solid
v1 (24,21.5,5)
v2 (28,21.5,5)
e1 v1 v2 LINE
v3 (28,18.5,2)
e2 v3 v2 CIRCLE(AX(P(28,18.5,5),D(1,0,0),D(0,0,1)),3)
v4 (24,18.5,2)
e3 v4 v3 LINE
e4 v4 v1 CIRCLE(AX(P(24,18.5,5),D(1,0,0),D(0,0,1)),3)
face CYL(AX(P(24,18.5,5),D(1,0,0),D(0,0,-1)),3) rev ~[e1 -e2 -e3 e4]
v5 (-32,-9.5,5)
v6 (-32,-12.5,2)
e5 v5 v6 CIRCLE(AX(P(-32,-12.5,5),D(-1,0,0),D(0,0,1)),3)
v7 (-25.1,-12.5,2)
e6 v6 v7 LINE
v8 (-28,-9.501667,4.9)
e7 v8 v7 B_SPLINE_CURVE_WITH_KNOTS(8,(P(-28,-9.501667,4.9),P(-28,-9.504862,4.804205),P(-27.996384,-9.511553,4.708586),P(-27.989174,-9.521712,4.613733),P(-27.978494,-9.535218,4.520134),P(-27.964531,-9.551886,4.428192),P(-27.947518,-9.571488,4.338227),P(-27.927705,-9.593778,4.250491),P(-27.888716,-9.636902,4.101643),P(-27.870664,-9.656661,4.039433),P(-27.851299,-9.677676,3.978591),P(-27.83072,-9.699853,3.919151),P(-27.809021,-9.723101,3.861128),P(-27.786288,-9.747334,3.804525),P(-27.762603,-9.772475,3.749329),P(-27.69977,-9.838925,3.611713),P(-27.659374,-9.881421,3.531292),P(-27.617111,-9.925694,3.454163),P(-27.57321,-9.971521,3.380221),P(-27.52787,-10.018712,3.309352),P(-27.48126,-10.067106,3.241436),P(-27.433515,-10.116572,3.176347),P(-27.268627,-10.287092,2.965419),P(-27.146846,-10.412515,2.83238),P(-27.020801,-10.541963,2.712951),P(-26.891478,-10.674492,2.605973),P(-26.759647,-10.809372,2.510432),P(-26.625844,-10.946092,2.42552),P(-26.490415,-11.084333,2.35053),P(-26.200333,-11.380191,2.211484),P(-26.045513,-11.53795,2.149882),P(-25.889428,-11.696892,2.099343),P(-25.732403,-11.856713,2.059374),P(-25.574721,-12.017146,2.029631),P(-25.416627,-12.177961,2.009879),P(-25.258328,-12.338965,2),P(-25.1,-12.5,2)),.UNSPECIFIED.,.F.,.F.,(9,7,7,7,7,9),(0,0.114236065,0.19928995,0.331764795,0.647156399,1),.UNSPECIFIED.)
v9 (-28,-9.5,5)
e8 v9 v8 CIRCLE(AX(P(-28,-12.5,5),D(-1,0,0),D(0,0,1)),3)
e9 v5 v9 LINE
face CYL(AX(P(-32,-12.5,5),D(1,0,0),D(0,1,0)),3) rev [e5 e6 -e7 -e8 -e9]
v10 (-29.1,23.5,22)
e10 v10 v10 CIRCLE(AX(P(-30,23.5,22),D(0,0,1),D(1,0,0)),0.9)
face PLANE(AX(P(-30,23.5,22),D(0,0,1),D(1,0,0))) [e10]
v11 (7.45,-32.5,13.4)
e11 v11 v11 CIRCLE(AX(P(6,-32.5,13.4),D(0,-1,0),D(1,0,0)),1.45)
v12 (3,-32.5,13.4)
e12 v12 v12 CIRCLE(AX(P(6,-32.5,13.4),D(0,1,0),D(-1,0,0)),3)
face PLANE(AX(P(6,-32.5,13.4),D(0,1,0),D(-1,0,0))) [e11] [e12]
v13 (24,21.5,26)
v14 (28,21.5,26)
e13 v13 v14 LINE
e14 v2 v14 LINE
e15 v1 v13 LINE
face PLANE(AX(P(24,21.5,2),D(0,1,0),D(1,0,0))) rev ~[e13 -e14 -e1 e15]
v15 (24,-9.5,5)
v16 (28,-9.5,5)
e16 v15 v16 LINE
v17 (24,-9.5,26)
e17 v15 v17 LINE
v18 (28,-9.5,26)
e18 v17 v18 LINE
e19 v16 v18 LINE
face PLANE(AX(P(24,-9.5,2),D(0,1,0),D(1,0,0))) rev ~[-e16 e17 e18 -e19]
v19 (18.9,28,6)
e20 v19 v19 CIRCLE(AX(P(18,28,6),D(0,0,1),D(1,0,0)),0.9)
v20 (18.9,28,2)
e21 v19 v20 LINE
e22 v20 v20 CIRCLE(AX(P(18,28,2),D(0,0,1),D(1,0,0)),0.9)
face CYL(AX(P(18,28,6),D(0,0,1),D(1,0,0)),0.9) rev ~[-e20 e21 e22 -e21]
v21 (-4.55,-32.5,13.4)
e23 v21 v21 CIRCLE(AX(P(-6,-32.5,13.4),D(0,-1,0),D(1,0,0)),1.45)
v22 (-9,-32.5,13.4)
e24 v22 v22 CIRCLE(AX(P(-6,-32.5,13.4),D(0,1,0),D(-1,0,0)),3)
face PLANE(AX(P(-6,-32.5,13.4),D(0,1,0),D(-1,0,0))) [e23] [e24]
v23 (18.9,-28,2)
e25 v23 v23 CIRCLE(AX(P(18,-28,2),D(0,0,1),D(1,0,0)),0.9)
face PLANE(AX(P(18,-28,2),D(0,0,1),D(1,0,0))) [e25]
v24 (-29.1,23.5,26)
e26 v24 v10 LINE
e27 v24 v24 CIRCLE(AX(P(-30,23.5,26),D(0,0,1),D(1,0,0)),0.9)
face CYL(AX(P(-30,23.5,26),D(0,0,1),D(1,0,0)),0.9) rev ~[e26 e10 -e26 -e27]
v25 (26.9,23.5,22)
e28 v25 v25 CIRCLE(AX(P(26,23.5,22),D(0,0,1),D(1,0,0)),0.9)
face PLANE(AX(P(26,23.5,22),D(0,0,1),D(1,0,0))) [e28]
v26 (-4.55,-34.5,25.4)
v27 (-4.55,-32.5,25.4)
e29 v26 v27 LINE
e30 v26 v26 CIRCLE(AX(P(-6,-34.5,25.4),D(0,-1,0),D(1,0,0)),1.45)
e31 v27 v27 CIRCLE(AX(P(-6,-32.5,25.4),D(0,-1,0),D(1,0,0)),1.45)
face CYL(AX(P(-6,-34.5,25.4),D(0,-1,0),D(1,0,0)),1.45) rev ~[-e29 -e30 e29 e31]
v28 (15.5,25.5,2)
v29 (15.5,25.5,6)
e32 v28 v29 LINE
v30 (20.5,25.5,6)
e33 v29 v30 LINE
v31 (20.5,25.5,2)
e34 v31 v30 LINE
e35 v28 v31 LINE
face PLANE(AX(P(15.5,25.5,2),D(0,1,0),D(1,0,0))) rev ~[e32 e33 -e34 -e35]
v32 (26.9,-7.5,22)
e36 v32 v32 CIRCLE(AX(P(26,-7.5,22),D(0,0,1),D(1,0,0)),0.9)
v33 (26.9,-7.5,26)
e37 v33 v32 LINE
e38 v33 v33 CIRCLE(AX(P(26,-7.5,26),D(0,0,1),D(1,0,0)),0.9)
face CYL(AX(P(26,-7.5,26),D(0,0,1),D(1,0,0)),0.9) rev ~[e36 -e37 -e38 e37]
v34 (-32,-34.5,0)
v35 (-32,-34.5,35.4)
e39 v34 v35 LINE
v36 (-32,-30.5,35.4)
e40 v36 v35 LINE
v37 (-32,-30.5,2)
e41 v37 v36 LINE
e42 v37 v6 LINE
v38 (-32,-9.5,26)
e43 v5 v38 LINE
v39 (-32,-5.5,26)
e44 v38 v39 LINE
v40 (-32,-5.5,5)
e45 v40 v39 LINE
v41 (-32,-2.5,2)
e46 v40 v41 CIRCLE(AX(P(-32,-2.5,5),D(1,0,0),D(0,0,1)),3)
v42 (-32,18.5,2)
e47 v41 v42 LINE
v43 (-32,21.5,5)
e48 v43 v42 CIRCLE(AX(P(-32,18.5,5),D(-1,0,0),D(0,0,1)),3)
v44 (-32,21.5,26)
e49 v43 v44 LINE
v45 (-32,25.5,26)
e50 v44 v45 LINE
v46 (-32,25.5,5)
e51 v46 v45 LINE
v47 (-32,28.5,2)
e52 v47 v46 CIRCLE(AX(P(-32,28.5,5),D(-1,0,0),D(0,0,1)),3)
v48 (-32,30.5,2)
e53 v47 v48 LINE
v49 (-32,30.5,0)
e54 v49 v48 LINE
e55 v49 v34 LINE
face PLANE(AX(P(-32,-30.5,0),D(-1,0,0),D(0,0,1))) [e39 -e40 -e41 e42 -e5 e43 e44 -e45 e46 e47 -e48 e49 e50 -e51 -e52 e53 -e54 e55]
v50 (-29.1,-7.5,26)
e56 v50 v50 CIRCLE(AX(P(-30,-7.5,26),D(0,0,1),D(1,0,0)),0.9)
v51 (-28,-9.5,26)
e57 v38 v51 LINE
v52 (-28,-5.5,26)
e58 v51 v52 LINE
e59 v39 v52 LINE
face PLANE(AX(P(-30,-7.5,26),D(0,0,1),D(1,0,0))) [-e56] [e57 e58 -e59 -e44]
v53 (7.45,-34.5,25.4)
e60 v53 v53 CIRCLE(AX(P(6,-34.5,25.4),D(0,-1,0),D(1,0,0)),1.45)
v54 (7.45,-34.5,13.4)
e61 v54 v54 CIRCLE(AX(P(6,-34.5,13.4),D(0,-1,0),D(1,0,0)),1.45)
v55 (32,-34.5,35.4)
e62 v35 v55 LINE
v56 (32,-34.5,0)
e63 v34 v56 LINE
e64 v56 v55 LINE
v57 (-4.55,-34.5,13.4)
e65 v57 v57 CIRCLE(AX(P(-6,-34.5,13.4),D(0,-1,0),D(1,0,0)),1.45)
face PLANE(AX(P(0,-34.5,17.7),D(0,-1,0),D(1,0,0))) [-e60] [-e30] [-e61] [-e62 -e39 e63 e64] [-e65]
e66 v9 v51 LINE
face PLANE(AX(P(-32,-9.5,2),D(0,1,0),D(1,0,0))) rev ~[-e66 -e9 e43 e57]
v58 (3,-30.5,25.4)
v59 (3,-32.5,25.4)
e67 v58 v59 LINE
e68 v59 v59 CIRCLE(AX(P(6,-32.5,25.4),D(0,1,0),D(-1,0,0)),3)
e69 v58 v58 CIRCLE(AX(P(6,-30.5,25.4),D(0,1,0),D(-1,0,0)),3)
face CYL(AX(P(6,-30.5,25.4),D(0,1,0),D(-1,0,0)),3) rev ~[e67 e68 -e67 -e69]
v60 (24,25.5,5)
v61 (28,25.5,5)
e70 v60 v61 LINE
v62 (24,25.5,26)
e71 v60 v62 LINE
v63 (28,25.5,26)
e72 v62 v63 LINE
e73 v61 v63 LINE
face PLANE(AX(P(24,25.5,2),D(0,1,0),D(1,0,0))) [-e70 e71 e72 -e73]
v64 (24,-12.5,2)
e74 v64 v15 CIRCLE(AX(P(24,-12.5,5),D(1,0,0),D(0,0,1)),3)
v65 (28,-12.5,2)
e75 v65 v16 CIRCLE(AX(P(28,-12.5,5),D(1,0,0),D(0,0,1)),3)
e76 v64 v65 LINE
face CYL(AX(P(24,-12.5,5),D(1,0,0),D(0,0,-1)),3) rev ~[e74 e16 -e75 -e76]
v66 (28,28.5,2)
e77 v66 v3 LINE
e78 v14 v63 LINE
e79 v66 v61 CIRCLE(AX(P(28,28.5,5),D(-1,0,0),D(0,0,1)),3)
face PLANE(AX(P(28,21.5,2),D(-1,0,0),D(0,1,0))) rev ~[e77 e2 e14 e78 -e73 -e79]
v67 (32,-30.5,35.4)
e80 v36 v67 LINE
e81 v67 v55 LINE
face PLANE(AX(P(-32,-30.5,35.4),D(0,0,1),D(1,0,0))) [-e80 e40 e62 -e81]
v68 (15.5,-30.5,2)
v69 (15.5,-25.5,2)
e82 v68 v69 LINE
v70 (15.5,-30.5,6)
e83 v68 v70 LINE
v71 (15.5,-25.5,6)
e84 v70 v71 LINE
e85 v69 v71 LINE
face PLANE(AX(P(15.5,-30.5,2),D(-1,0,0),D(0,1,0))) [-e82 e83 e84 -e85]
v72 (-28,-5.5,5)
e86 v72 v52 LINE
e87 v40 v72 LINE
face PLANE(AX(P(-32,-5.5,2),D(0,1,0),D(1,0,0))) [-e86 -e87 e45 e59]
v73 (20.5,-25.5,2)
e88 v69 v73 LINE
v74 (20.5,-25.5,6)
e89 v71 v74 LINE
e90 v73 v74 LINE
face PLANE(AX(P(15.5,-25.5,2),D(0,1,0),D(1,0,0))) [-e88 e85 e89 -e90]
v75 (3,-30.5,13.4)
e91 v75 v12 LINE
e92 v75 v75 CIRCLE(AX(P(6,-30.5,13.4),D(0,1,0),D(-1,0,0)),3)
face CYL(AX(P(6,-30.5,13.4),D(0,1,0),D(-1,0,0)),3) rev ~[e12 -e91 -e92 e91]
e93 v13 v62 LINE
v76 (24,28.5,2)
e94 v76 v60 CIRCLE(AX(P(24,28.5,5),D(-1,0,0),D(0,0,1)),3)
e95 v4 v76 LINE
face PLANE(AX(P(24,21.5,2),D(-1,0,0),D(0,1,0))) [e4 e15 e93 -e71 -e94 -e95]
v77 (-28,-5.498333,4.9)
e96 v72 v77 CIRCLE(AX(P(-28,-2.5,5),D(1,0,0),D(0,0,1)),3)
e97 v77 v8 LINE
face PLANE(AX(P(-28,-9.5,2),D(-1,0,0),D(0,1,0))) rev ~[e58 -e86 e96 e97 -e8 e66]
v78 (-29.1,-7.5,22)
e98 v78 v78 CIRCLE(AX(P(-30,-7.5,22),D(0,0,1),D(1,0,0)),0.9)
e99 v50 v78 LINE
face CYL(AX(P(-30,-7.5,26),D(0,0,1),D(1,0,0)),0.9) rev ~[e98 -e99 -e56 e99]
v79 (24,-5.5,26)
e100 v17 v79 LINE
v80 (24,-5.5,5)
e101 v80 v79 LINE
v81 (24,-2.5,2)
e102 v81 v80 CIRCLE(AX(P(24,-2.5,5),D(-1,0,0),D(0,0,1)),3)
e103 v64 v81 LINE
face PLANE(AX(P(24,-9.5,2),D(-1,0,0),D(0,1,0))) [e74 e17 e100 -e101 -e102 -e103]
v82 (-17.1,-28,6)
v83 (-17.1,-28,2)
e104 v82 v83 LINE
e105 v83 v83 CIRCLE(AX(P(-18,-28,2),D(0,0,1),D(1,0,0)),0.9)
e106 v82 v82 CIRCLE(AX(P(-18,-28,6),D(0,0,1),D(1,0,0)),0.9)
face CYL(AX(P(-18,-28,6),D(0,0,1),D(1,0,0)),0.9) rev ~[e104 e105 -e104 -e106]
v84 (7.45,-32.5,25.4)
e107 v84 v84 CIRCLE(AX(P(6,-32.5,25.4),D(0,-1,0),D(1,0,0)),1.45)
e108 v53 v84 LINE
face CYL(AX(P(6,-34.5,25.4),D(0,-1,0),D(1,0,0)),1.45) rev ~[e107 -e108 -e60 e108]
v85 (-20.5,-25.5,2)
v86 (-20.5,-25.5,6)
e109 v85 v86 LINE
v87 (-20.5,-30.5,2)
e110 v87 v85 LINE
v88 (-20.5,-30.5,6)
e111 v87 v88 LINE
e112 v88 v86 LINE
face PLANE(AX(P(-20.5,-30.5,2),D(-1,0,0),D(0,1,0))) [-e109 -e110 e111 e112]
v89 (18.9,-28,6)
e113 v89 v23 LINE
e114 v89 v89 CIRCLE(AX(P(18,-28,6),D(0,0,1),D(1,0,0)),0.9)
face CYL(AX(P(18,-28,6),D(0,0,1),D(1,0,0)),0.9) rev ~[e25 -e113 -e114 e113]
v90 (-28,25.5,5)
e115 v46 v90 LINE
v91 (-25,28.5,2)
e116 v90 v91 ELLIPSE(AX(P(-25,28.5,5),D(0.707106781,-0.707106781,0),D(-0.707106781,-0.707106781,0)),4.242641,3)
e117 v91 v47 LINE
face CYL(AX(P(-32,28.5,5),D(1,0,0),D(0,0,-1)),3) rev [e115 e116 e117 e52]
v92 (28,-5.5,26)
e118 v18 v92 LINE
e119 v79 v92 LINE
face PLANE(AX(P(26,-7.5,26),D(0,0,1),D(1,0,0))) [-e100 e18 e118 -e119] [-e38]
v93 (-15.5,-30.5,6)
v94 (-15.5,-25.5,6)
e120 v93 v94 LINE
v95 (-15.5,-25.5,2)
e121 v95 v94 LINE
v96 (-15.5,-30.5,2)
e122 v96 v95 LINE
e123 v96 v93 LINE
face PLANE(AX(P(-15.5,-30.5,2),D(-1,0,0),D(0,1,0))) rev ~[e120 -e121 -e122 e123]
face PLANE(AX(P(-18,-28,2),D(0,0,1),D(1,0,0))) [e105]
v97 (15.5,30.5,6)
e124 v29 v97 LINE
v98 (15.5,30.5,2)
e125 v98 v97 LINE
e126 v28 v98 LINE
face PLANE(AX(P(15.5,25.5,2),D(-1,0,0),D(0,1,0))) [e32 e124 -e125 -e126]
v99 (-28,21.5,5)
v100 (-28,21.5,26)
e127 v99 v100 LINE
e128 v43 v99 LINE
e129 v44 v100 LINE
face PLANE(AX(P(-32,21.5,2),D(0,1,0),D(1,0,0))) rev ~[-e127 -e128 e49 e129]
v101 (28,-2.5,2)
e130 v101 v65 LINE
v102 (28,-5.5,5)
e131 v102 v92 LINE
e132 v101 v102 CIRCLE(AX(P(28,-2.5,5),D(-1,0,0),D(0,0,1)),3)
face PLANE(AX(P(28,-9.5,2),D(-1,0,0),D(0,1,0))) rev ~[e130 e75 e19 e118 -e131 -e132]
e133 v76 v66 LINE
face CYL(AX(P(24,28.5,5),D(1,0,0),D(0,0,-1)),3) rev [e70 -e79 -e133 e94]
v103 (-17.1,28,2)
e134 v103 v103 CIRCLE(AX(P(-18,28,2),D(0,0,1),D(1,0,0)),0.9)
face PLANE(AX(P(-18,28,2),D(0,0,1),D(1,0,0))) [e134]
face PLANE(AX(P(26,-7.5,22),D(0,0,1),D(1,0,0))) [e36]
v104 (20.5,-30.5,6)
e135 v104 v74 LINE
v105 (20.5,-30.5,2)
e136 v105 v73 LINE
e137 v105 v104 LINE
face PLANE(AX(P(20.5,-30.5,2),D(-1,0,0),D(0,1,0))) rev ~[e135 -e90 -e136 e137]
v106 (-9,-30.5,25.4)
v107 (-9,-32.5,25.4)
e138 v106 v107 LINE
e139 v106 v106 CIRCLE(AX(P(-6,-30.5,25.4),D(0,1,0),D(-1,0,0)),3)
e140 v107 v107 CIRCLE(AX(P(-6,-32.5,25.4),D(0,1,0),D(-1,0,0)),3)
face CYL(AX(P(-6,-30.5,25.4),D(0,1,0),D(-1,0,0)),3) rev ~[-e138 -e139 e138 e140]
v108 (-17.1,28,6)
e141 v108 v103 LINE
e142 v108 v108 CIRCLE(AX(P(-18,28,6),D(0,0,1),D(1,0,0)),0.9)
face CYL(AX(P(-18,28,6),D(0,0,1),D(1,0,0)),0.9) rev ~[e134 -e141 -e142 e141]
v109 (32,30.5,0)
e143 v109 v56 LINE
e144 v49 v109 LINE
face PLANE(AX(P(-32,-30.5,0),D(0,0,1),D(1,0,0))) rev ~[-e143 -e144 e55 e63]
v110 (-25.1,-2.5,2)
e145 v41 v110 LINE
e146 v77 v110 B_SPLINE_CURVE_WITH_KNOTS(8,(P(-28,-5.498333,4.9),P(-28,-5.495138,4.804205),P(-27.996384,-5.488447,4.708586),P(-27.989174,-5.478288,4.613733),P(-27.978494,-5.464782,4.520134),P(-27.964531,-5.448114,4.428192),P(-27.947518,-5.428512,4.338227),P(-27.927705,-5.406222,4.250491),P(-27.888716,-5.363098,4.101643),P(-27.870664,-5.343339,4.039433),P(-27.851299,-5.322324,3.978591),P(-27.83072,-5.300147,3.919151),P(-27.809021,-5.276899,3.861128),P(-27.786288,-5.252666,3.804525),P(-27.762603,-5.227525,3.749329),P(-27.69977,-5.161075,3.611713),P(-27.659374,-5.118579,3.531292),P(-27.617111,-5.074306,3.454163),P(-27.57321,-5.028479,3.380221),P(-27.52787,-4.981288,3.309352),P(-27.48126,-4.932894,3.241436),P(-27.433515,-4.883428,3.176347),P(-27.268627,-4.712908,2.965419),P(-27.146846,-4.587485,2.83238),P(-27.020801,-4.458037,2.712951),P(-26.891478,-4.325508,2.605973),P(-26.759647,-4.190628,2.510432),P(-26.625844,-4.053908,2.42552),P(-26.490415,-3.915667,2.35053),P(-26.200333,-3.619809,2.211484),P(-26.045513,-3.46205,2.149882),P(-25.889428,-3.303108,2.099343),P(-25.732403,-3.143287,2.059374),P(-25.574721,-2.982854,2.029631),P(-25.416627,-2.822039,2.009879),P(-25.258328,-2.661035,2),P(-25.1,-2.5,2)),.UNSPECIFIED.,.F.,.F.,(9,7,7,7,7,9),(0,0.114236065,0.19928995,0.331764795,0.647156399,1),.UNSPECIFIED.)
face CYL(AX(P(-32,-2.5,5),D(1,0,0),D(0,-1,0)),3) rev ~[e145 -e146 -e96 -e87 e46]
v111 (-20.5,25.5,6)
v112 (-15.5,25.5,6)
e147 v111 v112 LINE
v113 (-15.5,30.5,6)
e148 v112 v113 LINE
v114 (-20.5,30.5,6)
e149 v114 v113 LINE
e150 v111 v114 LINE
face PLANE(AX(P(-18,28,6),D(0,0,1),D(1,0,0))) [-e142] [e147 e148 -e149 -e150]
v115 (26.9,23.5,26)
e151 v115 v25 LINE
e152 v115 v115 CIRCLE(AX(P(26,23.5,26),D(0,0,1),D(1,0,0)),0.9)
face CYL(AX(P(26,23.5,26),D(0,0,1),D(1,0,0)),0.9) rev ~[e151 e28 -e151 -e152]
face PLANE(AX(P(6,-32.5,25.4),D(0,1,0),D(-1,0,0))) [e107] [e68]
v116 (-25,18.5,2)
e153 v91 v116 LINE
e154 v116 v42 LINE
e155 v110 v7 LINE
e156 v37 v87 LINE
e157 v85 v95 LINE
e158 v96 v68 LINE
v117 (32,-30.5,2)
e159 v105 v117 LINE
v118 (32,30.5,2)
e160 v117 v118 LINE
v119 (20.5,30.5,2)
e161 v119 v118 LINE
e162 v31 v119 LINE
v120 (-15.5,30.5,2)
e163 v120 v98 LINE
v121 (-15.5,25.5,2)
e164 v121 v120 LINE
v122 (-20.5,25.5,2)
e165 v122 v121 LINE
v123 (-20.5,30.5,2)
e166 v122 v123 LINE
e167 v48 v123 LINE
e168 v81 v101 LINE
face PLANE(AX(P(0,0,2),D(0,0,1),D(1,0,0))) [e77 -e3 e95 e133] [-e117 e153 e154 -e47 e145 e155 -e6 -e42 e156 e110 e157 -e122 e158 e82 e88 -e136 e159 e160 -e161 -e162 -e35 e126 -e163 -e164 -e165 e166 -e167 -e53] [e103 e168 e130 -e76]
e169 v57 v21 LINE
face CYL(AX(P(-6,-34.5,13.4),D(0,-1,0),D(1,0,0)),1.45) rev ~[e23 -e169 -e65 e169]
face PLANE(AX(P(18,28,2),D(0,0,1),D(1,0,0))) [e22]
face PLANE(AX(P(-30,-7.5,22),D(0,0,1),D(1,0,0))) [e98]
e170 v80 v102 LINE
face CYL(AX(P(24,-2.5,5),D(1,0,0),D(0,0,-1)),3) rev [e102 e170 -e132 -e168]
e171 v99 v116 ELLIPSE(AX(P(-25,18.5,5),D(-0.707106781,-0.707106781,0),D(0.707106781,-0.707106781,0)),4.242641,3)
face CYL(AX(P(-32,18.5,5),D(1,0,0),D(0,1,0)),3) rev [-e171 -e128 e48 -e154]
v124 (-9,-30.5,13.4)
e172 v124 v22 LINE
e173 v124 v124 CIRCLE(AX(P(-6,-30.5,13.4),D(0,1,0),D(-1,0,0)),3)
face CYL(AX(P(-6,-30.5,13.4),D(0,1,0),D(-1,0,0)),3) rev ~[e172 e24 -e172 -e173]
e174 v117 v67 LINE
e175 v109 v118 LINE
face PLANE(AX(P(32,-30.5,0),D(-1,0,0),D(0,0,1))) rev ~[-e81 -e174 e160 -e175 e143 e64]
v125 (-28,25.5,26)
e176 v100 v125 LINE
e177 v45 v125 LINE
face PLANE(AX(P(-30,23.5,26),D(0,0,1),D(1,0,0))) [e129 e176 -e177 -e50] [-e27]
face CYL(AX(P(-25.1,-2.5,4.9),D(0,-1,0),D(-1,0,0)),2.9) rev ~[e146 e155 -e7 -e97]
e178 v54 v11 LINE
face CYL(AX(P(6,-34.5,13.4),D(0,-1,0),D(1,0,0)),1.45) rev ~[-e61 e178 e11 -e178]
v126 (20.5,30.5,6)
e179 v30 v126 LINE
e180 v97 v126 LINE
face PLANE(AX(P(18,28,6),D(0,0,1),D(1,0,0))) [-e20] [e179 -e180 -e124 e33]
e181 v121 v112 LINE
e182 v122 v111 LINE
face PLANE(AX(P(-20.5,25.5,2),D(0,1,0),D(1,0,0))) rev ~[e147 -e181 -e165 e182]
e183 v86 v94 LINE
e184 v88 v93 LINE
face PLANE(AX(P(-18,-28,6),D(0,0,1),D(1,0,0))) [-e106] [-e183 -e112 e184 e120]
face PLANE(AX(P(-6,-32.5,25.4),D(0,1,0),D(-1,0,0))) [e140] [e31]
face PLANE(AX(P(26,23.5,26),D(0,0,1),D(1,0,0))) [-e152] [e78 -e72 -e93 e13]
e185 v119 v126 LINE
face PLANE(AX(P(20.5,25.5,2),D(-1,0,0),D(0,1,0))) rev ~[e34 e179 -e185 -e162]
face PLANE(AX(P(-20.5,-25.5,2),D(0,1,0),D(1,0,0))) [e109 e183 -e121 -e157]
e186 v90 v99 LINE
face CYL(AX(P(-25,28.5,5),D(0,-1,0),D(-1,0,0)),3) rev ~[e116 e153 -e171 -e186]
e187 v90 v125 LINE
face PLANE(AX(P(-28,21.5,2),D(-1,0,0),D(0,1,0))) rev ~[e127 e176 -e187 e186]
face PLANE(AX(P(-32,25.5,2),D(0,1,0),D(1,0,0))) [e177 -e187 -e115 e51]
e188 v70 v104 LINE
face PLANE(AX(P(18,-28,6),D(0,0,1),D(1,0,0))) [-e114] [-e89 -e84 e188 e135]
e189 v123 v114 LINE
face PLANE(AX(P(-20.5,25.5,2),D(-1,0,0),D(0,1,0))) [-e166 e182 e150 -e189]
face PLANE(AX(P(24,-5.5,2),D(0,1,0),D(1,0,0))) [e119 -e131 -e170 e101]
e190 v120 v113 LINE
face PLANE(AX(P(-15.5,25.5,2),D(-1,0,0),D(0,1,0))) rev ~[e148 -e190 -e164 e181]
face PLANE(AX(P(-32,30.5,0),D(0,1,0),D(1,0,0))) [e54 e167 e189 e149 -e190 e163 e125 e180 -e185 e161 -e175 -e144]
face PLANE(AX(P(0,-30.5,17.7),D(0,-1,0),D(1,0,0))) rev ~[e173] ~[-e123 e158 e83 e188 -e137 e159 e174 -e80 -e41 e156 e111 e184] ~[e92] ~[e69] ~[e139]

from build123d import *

# Parameters (mm, degrees)
SKETCH_W        = 64
SKETCH_H        = 61
PAD_DEPTH       = 2
SKETCH001_W     = 5
SKETCH001_H     = 5
PAD001_DEPTH    = 4
SKETCH002_R     = 0.9
POCKET_DEPTH    = 4
SKETCH003_W     = 4
SKETCH003_H     = 4
PAD002_DEPTH    = 24
SKETCH004_R     = 0.9
POCKET001_DEPTH = 4
FILLET_R        = 3
FILLET001_R     = 3
FILLET002_R     = 3
FILLET003_R     = 3
FILLET004_R     = 3
FILLET005_R     = 2.9
FILLET006_R     = 3
FILLET007_R     = 3
FILLET008_R     = 3
FILLET009_R     = 3
SKETCH005_W     = 64
SKETCH005_H     = 35.4
PAD003_DEPTH    = 4
SKETCH006_R     = 3
POCKET002_DEPTH = 2
SKETCH007_R     = 1.45
POCKET003_DEPTH = 5


with BuildPart() as part:
    # Sketch → Pad (new body)
    with BuildSketch(Plane.XY):
        Rectangle(SKETCH_W, SKETCH_H)
    extrude(amount=PAD_DEPTH)

    # Sketch001 (on Face6 of Pad) → Pad001 (join)
    with BuildSketch(Plane.XY.offset(2)):
        with Locations((-18, 28)):
            Rectangle(SKETCH001_W, SKETCH001_H)
        with Locations((18, 28)):
            Rectangle(SKETCH001_W, SKETCH001_H)
        with Locations((-18, -28)):
            Rectangle(SKETCH001_W, SKETCH001_H)
        with Locations((18, -28)):
            Rectangle(SKETCH001_W, SKETCH001_H)
    extrude(amount=PAD001_DEPTH)

    # Sketch002 (on Face26 of Pad001) → Pocket (cut)
    with BuildSketch(Plane.XY.offset(6)):
        with Locations((-18, -28)):
            Circle(SKETCH002_R)
        with Locations((18, -28)):
            Circle(SKETCH002_R)
        with Locations((18, 28)):
            Circle(SKETCH002_R)
        with Locations((-18, 28)):
            Circle(SKETCH002_R)
    extrude(amount=-POCKET_DEPTH, mode=Mode.SUBTRACT)

    # Sketch003 (on Face5 of Pocket) → Pad002 (join)
    with BuildSketch(Plane.XY.offset(2)):
        with Locations((-30, 23.5)):
            Rectangle(SKETCH003_W, SKETCH003_H)
        with Locations((-30, -7.5)):
            Rectangle(SKETCH003_W, SKETCH003_H)
        with Locations((26, 23.5)):
            Rectangle(SKETCH003_W, SKETCH003_H)
        with Locations((26, -7.5)):
            Rectangle(SKETCH003_W, SKETCH003_H)
    extrude(amount=PAD002_DEPTH)

    # Sketch004 (on Face42 of Pad002) → Pocket001 (cut)
    with BuildSketch(Plane.XY.offset(26)):
        with Locations((-30, 23.5)):
            Circle(SKETCH004_R)
        with Locations((26, 23.5)):
            Circle(SKETCH004_R)
        with Locations((26, -7.5)):
            Circle(SKETCH004_R)
        with Locations((-30, -7.5)):
            Circle(SKETCH004_R)
    extrude(amount=-POCKET001_DEPTH, mode=Mode.SUBTRACT)

    # Fillet
    fillet_edges = [part.edges().sort_by_distance(p)[0] for p in [
        (-30, 25.5, 2),
    ]]
    fillet(fillet_edges, radius=FILLET_R)

    # Fillet001
    fillet001_edges = [part.edges().sort_by_distance(p)[0] for p in [
        (-30, 21.5, 2),
    ]]
    fillet(fillet001_edges, radius=FILLET001_R)

    # Fillet002
    fillet002_edges = [part.edges().sort_by_distance(p)[0] for p in [
        (-28, 23.5, 2),
    ]]
    fillet(fillet002_edges, radius=FILLET002_R)

    # Fillet003
    fillet003_edges = [part.edges().sort_by_distance(p)[0] for p in [
        (-30, -9.5, 2),
    ]]
    fillet(fillet003_edges, radius=FILLET003_R)

    # Fillet004
    fillet004_edges = [part.edges().sort_by_distance(p)[0] for p in [
        (-30, -5.5, 2),
    ]]
    fillet(fillet004_edges, radius=FILLET004_R)

    # Fillet005
    fillet005_edges = [part.edges().sort_by_distance(p)[0] for p in [
        (-28, -7.5, 2),
    ]]
    fillet(fillet005_edges, radius=FILLET005_R)

    # Fillet006
    fillet006_edges = [part.edges().sort_by_distance(p)[0] for p in [
        (26, 25.5, 2),
    ]]
    fillet(fillet006_edges, radius=FILLET006_R)

    # Fillet007
    fillet007_edges = [part.edges().sort_by_distance(p)[0] for p in [
        (26, 21.5, 2),
    ]]
    fillet(fillet007_edges, radius=FILLET007_R)

    # Fillet008
    fillet008_edges = [part.edges().sort_by_distance(p)[0] for p in [
        (26, -9.5, 2),
    ]]
    fillet(fillet008_edges, radius=FILLET008_R)

    # Fillet009
    fillet009_edges = [part.edges().sort_by_distance(p)[0] for p in [
        (26, -5.5, 2),
    ]]
    fillet(fillet009_edges, radius=FILLET009_R)

    # Sketch005 (on Face20 of Fillet009) → Pad003 (join)
    with BuildSketch(Plane.XZ.offset(30.5)):
        with Locations((0, 17.7)):
            Rectangle(SKETCH005_W, SKETCH005_H)
    extrude(amount=PAD003_DEPTH)

    # Sketch006 (on Face20 of Pad003) → Pocket002 (cut)
    with BuildSketch(Plane(origin=(0, -30.5, 0), x_dir=(-1, 0, 0), z_dir=(0, 1, 0))):
        with Locations((6, 13.4)):
            Circle(SKETCH006_R)
        with Locations((-6, 13.4)):
            Circle(SKETCH006_R)
        with Locations((6, 25.4)):
            Circle(SKETCH006_R)
        with Locations((-6, 25.4)):
            Circle(SKETCH006_R)
    extrude(amount=-POCKET002_DEPTH, mode=Mode.SUBTRACT)

    # Sketch007 (on Face69 of Pocket002) → Pocket003 (cut)
    with BuildSketch(Plane.XZ.offset(34.5)):
        with Locations((-6, 25.4)):
            Circle(SKETCH007_R)
        with Locations((6, 25.4)):
            Circle(SKETCH007_R)
        with Locations((-6, 13.4)):
            Circle(SKETCH007_R)
        with Locations((6, 13.4)):
            Circle(SKETCH007_R)
    extrude(amount=-POCKET003_DEPTH, mode=Mode.SUBTRACT)


solid = part.part
